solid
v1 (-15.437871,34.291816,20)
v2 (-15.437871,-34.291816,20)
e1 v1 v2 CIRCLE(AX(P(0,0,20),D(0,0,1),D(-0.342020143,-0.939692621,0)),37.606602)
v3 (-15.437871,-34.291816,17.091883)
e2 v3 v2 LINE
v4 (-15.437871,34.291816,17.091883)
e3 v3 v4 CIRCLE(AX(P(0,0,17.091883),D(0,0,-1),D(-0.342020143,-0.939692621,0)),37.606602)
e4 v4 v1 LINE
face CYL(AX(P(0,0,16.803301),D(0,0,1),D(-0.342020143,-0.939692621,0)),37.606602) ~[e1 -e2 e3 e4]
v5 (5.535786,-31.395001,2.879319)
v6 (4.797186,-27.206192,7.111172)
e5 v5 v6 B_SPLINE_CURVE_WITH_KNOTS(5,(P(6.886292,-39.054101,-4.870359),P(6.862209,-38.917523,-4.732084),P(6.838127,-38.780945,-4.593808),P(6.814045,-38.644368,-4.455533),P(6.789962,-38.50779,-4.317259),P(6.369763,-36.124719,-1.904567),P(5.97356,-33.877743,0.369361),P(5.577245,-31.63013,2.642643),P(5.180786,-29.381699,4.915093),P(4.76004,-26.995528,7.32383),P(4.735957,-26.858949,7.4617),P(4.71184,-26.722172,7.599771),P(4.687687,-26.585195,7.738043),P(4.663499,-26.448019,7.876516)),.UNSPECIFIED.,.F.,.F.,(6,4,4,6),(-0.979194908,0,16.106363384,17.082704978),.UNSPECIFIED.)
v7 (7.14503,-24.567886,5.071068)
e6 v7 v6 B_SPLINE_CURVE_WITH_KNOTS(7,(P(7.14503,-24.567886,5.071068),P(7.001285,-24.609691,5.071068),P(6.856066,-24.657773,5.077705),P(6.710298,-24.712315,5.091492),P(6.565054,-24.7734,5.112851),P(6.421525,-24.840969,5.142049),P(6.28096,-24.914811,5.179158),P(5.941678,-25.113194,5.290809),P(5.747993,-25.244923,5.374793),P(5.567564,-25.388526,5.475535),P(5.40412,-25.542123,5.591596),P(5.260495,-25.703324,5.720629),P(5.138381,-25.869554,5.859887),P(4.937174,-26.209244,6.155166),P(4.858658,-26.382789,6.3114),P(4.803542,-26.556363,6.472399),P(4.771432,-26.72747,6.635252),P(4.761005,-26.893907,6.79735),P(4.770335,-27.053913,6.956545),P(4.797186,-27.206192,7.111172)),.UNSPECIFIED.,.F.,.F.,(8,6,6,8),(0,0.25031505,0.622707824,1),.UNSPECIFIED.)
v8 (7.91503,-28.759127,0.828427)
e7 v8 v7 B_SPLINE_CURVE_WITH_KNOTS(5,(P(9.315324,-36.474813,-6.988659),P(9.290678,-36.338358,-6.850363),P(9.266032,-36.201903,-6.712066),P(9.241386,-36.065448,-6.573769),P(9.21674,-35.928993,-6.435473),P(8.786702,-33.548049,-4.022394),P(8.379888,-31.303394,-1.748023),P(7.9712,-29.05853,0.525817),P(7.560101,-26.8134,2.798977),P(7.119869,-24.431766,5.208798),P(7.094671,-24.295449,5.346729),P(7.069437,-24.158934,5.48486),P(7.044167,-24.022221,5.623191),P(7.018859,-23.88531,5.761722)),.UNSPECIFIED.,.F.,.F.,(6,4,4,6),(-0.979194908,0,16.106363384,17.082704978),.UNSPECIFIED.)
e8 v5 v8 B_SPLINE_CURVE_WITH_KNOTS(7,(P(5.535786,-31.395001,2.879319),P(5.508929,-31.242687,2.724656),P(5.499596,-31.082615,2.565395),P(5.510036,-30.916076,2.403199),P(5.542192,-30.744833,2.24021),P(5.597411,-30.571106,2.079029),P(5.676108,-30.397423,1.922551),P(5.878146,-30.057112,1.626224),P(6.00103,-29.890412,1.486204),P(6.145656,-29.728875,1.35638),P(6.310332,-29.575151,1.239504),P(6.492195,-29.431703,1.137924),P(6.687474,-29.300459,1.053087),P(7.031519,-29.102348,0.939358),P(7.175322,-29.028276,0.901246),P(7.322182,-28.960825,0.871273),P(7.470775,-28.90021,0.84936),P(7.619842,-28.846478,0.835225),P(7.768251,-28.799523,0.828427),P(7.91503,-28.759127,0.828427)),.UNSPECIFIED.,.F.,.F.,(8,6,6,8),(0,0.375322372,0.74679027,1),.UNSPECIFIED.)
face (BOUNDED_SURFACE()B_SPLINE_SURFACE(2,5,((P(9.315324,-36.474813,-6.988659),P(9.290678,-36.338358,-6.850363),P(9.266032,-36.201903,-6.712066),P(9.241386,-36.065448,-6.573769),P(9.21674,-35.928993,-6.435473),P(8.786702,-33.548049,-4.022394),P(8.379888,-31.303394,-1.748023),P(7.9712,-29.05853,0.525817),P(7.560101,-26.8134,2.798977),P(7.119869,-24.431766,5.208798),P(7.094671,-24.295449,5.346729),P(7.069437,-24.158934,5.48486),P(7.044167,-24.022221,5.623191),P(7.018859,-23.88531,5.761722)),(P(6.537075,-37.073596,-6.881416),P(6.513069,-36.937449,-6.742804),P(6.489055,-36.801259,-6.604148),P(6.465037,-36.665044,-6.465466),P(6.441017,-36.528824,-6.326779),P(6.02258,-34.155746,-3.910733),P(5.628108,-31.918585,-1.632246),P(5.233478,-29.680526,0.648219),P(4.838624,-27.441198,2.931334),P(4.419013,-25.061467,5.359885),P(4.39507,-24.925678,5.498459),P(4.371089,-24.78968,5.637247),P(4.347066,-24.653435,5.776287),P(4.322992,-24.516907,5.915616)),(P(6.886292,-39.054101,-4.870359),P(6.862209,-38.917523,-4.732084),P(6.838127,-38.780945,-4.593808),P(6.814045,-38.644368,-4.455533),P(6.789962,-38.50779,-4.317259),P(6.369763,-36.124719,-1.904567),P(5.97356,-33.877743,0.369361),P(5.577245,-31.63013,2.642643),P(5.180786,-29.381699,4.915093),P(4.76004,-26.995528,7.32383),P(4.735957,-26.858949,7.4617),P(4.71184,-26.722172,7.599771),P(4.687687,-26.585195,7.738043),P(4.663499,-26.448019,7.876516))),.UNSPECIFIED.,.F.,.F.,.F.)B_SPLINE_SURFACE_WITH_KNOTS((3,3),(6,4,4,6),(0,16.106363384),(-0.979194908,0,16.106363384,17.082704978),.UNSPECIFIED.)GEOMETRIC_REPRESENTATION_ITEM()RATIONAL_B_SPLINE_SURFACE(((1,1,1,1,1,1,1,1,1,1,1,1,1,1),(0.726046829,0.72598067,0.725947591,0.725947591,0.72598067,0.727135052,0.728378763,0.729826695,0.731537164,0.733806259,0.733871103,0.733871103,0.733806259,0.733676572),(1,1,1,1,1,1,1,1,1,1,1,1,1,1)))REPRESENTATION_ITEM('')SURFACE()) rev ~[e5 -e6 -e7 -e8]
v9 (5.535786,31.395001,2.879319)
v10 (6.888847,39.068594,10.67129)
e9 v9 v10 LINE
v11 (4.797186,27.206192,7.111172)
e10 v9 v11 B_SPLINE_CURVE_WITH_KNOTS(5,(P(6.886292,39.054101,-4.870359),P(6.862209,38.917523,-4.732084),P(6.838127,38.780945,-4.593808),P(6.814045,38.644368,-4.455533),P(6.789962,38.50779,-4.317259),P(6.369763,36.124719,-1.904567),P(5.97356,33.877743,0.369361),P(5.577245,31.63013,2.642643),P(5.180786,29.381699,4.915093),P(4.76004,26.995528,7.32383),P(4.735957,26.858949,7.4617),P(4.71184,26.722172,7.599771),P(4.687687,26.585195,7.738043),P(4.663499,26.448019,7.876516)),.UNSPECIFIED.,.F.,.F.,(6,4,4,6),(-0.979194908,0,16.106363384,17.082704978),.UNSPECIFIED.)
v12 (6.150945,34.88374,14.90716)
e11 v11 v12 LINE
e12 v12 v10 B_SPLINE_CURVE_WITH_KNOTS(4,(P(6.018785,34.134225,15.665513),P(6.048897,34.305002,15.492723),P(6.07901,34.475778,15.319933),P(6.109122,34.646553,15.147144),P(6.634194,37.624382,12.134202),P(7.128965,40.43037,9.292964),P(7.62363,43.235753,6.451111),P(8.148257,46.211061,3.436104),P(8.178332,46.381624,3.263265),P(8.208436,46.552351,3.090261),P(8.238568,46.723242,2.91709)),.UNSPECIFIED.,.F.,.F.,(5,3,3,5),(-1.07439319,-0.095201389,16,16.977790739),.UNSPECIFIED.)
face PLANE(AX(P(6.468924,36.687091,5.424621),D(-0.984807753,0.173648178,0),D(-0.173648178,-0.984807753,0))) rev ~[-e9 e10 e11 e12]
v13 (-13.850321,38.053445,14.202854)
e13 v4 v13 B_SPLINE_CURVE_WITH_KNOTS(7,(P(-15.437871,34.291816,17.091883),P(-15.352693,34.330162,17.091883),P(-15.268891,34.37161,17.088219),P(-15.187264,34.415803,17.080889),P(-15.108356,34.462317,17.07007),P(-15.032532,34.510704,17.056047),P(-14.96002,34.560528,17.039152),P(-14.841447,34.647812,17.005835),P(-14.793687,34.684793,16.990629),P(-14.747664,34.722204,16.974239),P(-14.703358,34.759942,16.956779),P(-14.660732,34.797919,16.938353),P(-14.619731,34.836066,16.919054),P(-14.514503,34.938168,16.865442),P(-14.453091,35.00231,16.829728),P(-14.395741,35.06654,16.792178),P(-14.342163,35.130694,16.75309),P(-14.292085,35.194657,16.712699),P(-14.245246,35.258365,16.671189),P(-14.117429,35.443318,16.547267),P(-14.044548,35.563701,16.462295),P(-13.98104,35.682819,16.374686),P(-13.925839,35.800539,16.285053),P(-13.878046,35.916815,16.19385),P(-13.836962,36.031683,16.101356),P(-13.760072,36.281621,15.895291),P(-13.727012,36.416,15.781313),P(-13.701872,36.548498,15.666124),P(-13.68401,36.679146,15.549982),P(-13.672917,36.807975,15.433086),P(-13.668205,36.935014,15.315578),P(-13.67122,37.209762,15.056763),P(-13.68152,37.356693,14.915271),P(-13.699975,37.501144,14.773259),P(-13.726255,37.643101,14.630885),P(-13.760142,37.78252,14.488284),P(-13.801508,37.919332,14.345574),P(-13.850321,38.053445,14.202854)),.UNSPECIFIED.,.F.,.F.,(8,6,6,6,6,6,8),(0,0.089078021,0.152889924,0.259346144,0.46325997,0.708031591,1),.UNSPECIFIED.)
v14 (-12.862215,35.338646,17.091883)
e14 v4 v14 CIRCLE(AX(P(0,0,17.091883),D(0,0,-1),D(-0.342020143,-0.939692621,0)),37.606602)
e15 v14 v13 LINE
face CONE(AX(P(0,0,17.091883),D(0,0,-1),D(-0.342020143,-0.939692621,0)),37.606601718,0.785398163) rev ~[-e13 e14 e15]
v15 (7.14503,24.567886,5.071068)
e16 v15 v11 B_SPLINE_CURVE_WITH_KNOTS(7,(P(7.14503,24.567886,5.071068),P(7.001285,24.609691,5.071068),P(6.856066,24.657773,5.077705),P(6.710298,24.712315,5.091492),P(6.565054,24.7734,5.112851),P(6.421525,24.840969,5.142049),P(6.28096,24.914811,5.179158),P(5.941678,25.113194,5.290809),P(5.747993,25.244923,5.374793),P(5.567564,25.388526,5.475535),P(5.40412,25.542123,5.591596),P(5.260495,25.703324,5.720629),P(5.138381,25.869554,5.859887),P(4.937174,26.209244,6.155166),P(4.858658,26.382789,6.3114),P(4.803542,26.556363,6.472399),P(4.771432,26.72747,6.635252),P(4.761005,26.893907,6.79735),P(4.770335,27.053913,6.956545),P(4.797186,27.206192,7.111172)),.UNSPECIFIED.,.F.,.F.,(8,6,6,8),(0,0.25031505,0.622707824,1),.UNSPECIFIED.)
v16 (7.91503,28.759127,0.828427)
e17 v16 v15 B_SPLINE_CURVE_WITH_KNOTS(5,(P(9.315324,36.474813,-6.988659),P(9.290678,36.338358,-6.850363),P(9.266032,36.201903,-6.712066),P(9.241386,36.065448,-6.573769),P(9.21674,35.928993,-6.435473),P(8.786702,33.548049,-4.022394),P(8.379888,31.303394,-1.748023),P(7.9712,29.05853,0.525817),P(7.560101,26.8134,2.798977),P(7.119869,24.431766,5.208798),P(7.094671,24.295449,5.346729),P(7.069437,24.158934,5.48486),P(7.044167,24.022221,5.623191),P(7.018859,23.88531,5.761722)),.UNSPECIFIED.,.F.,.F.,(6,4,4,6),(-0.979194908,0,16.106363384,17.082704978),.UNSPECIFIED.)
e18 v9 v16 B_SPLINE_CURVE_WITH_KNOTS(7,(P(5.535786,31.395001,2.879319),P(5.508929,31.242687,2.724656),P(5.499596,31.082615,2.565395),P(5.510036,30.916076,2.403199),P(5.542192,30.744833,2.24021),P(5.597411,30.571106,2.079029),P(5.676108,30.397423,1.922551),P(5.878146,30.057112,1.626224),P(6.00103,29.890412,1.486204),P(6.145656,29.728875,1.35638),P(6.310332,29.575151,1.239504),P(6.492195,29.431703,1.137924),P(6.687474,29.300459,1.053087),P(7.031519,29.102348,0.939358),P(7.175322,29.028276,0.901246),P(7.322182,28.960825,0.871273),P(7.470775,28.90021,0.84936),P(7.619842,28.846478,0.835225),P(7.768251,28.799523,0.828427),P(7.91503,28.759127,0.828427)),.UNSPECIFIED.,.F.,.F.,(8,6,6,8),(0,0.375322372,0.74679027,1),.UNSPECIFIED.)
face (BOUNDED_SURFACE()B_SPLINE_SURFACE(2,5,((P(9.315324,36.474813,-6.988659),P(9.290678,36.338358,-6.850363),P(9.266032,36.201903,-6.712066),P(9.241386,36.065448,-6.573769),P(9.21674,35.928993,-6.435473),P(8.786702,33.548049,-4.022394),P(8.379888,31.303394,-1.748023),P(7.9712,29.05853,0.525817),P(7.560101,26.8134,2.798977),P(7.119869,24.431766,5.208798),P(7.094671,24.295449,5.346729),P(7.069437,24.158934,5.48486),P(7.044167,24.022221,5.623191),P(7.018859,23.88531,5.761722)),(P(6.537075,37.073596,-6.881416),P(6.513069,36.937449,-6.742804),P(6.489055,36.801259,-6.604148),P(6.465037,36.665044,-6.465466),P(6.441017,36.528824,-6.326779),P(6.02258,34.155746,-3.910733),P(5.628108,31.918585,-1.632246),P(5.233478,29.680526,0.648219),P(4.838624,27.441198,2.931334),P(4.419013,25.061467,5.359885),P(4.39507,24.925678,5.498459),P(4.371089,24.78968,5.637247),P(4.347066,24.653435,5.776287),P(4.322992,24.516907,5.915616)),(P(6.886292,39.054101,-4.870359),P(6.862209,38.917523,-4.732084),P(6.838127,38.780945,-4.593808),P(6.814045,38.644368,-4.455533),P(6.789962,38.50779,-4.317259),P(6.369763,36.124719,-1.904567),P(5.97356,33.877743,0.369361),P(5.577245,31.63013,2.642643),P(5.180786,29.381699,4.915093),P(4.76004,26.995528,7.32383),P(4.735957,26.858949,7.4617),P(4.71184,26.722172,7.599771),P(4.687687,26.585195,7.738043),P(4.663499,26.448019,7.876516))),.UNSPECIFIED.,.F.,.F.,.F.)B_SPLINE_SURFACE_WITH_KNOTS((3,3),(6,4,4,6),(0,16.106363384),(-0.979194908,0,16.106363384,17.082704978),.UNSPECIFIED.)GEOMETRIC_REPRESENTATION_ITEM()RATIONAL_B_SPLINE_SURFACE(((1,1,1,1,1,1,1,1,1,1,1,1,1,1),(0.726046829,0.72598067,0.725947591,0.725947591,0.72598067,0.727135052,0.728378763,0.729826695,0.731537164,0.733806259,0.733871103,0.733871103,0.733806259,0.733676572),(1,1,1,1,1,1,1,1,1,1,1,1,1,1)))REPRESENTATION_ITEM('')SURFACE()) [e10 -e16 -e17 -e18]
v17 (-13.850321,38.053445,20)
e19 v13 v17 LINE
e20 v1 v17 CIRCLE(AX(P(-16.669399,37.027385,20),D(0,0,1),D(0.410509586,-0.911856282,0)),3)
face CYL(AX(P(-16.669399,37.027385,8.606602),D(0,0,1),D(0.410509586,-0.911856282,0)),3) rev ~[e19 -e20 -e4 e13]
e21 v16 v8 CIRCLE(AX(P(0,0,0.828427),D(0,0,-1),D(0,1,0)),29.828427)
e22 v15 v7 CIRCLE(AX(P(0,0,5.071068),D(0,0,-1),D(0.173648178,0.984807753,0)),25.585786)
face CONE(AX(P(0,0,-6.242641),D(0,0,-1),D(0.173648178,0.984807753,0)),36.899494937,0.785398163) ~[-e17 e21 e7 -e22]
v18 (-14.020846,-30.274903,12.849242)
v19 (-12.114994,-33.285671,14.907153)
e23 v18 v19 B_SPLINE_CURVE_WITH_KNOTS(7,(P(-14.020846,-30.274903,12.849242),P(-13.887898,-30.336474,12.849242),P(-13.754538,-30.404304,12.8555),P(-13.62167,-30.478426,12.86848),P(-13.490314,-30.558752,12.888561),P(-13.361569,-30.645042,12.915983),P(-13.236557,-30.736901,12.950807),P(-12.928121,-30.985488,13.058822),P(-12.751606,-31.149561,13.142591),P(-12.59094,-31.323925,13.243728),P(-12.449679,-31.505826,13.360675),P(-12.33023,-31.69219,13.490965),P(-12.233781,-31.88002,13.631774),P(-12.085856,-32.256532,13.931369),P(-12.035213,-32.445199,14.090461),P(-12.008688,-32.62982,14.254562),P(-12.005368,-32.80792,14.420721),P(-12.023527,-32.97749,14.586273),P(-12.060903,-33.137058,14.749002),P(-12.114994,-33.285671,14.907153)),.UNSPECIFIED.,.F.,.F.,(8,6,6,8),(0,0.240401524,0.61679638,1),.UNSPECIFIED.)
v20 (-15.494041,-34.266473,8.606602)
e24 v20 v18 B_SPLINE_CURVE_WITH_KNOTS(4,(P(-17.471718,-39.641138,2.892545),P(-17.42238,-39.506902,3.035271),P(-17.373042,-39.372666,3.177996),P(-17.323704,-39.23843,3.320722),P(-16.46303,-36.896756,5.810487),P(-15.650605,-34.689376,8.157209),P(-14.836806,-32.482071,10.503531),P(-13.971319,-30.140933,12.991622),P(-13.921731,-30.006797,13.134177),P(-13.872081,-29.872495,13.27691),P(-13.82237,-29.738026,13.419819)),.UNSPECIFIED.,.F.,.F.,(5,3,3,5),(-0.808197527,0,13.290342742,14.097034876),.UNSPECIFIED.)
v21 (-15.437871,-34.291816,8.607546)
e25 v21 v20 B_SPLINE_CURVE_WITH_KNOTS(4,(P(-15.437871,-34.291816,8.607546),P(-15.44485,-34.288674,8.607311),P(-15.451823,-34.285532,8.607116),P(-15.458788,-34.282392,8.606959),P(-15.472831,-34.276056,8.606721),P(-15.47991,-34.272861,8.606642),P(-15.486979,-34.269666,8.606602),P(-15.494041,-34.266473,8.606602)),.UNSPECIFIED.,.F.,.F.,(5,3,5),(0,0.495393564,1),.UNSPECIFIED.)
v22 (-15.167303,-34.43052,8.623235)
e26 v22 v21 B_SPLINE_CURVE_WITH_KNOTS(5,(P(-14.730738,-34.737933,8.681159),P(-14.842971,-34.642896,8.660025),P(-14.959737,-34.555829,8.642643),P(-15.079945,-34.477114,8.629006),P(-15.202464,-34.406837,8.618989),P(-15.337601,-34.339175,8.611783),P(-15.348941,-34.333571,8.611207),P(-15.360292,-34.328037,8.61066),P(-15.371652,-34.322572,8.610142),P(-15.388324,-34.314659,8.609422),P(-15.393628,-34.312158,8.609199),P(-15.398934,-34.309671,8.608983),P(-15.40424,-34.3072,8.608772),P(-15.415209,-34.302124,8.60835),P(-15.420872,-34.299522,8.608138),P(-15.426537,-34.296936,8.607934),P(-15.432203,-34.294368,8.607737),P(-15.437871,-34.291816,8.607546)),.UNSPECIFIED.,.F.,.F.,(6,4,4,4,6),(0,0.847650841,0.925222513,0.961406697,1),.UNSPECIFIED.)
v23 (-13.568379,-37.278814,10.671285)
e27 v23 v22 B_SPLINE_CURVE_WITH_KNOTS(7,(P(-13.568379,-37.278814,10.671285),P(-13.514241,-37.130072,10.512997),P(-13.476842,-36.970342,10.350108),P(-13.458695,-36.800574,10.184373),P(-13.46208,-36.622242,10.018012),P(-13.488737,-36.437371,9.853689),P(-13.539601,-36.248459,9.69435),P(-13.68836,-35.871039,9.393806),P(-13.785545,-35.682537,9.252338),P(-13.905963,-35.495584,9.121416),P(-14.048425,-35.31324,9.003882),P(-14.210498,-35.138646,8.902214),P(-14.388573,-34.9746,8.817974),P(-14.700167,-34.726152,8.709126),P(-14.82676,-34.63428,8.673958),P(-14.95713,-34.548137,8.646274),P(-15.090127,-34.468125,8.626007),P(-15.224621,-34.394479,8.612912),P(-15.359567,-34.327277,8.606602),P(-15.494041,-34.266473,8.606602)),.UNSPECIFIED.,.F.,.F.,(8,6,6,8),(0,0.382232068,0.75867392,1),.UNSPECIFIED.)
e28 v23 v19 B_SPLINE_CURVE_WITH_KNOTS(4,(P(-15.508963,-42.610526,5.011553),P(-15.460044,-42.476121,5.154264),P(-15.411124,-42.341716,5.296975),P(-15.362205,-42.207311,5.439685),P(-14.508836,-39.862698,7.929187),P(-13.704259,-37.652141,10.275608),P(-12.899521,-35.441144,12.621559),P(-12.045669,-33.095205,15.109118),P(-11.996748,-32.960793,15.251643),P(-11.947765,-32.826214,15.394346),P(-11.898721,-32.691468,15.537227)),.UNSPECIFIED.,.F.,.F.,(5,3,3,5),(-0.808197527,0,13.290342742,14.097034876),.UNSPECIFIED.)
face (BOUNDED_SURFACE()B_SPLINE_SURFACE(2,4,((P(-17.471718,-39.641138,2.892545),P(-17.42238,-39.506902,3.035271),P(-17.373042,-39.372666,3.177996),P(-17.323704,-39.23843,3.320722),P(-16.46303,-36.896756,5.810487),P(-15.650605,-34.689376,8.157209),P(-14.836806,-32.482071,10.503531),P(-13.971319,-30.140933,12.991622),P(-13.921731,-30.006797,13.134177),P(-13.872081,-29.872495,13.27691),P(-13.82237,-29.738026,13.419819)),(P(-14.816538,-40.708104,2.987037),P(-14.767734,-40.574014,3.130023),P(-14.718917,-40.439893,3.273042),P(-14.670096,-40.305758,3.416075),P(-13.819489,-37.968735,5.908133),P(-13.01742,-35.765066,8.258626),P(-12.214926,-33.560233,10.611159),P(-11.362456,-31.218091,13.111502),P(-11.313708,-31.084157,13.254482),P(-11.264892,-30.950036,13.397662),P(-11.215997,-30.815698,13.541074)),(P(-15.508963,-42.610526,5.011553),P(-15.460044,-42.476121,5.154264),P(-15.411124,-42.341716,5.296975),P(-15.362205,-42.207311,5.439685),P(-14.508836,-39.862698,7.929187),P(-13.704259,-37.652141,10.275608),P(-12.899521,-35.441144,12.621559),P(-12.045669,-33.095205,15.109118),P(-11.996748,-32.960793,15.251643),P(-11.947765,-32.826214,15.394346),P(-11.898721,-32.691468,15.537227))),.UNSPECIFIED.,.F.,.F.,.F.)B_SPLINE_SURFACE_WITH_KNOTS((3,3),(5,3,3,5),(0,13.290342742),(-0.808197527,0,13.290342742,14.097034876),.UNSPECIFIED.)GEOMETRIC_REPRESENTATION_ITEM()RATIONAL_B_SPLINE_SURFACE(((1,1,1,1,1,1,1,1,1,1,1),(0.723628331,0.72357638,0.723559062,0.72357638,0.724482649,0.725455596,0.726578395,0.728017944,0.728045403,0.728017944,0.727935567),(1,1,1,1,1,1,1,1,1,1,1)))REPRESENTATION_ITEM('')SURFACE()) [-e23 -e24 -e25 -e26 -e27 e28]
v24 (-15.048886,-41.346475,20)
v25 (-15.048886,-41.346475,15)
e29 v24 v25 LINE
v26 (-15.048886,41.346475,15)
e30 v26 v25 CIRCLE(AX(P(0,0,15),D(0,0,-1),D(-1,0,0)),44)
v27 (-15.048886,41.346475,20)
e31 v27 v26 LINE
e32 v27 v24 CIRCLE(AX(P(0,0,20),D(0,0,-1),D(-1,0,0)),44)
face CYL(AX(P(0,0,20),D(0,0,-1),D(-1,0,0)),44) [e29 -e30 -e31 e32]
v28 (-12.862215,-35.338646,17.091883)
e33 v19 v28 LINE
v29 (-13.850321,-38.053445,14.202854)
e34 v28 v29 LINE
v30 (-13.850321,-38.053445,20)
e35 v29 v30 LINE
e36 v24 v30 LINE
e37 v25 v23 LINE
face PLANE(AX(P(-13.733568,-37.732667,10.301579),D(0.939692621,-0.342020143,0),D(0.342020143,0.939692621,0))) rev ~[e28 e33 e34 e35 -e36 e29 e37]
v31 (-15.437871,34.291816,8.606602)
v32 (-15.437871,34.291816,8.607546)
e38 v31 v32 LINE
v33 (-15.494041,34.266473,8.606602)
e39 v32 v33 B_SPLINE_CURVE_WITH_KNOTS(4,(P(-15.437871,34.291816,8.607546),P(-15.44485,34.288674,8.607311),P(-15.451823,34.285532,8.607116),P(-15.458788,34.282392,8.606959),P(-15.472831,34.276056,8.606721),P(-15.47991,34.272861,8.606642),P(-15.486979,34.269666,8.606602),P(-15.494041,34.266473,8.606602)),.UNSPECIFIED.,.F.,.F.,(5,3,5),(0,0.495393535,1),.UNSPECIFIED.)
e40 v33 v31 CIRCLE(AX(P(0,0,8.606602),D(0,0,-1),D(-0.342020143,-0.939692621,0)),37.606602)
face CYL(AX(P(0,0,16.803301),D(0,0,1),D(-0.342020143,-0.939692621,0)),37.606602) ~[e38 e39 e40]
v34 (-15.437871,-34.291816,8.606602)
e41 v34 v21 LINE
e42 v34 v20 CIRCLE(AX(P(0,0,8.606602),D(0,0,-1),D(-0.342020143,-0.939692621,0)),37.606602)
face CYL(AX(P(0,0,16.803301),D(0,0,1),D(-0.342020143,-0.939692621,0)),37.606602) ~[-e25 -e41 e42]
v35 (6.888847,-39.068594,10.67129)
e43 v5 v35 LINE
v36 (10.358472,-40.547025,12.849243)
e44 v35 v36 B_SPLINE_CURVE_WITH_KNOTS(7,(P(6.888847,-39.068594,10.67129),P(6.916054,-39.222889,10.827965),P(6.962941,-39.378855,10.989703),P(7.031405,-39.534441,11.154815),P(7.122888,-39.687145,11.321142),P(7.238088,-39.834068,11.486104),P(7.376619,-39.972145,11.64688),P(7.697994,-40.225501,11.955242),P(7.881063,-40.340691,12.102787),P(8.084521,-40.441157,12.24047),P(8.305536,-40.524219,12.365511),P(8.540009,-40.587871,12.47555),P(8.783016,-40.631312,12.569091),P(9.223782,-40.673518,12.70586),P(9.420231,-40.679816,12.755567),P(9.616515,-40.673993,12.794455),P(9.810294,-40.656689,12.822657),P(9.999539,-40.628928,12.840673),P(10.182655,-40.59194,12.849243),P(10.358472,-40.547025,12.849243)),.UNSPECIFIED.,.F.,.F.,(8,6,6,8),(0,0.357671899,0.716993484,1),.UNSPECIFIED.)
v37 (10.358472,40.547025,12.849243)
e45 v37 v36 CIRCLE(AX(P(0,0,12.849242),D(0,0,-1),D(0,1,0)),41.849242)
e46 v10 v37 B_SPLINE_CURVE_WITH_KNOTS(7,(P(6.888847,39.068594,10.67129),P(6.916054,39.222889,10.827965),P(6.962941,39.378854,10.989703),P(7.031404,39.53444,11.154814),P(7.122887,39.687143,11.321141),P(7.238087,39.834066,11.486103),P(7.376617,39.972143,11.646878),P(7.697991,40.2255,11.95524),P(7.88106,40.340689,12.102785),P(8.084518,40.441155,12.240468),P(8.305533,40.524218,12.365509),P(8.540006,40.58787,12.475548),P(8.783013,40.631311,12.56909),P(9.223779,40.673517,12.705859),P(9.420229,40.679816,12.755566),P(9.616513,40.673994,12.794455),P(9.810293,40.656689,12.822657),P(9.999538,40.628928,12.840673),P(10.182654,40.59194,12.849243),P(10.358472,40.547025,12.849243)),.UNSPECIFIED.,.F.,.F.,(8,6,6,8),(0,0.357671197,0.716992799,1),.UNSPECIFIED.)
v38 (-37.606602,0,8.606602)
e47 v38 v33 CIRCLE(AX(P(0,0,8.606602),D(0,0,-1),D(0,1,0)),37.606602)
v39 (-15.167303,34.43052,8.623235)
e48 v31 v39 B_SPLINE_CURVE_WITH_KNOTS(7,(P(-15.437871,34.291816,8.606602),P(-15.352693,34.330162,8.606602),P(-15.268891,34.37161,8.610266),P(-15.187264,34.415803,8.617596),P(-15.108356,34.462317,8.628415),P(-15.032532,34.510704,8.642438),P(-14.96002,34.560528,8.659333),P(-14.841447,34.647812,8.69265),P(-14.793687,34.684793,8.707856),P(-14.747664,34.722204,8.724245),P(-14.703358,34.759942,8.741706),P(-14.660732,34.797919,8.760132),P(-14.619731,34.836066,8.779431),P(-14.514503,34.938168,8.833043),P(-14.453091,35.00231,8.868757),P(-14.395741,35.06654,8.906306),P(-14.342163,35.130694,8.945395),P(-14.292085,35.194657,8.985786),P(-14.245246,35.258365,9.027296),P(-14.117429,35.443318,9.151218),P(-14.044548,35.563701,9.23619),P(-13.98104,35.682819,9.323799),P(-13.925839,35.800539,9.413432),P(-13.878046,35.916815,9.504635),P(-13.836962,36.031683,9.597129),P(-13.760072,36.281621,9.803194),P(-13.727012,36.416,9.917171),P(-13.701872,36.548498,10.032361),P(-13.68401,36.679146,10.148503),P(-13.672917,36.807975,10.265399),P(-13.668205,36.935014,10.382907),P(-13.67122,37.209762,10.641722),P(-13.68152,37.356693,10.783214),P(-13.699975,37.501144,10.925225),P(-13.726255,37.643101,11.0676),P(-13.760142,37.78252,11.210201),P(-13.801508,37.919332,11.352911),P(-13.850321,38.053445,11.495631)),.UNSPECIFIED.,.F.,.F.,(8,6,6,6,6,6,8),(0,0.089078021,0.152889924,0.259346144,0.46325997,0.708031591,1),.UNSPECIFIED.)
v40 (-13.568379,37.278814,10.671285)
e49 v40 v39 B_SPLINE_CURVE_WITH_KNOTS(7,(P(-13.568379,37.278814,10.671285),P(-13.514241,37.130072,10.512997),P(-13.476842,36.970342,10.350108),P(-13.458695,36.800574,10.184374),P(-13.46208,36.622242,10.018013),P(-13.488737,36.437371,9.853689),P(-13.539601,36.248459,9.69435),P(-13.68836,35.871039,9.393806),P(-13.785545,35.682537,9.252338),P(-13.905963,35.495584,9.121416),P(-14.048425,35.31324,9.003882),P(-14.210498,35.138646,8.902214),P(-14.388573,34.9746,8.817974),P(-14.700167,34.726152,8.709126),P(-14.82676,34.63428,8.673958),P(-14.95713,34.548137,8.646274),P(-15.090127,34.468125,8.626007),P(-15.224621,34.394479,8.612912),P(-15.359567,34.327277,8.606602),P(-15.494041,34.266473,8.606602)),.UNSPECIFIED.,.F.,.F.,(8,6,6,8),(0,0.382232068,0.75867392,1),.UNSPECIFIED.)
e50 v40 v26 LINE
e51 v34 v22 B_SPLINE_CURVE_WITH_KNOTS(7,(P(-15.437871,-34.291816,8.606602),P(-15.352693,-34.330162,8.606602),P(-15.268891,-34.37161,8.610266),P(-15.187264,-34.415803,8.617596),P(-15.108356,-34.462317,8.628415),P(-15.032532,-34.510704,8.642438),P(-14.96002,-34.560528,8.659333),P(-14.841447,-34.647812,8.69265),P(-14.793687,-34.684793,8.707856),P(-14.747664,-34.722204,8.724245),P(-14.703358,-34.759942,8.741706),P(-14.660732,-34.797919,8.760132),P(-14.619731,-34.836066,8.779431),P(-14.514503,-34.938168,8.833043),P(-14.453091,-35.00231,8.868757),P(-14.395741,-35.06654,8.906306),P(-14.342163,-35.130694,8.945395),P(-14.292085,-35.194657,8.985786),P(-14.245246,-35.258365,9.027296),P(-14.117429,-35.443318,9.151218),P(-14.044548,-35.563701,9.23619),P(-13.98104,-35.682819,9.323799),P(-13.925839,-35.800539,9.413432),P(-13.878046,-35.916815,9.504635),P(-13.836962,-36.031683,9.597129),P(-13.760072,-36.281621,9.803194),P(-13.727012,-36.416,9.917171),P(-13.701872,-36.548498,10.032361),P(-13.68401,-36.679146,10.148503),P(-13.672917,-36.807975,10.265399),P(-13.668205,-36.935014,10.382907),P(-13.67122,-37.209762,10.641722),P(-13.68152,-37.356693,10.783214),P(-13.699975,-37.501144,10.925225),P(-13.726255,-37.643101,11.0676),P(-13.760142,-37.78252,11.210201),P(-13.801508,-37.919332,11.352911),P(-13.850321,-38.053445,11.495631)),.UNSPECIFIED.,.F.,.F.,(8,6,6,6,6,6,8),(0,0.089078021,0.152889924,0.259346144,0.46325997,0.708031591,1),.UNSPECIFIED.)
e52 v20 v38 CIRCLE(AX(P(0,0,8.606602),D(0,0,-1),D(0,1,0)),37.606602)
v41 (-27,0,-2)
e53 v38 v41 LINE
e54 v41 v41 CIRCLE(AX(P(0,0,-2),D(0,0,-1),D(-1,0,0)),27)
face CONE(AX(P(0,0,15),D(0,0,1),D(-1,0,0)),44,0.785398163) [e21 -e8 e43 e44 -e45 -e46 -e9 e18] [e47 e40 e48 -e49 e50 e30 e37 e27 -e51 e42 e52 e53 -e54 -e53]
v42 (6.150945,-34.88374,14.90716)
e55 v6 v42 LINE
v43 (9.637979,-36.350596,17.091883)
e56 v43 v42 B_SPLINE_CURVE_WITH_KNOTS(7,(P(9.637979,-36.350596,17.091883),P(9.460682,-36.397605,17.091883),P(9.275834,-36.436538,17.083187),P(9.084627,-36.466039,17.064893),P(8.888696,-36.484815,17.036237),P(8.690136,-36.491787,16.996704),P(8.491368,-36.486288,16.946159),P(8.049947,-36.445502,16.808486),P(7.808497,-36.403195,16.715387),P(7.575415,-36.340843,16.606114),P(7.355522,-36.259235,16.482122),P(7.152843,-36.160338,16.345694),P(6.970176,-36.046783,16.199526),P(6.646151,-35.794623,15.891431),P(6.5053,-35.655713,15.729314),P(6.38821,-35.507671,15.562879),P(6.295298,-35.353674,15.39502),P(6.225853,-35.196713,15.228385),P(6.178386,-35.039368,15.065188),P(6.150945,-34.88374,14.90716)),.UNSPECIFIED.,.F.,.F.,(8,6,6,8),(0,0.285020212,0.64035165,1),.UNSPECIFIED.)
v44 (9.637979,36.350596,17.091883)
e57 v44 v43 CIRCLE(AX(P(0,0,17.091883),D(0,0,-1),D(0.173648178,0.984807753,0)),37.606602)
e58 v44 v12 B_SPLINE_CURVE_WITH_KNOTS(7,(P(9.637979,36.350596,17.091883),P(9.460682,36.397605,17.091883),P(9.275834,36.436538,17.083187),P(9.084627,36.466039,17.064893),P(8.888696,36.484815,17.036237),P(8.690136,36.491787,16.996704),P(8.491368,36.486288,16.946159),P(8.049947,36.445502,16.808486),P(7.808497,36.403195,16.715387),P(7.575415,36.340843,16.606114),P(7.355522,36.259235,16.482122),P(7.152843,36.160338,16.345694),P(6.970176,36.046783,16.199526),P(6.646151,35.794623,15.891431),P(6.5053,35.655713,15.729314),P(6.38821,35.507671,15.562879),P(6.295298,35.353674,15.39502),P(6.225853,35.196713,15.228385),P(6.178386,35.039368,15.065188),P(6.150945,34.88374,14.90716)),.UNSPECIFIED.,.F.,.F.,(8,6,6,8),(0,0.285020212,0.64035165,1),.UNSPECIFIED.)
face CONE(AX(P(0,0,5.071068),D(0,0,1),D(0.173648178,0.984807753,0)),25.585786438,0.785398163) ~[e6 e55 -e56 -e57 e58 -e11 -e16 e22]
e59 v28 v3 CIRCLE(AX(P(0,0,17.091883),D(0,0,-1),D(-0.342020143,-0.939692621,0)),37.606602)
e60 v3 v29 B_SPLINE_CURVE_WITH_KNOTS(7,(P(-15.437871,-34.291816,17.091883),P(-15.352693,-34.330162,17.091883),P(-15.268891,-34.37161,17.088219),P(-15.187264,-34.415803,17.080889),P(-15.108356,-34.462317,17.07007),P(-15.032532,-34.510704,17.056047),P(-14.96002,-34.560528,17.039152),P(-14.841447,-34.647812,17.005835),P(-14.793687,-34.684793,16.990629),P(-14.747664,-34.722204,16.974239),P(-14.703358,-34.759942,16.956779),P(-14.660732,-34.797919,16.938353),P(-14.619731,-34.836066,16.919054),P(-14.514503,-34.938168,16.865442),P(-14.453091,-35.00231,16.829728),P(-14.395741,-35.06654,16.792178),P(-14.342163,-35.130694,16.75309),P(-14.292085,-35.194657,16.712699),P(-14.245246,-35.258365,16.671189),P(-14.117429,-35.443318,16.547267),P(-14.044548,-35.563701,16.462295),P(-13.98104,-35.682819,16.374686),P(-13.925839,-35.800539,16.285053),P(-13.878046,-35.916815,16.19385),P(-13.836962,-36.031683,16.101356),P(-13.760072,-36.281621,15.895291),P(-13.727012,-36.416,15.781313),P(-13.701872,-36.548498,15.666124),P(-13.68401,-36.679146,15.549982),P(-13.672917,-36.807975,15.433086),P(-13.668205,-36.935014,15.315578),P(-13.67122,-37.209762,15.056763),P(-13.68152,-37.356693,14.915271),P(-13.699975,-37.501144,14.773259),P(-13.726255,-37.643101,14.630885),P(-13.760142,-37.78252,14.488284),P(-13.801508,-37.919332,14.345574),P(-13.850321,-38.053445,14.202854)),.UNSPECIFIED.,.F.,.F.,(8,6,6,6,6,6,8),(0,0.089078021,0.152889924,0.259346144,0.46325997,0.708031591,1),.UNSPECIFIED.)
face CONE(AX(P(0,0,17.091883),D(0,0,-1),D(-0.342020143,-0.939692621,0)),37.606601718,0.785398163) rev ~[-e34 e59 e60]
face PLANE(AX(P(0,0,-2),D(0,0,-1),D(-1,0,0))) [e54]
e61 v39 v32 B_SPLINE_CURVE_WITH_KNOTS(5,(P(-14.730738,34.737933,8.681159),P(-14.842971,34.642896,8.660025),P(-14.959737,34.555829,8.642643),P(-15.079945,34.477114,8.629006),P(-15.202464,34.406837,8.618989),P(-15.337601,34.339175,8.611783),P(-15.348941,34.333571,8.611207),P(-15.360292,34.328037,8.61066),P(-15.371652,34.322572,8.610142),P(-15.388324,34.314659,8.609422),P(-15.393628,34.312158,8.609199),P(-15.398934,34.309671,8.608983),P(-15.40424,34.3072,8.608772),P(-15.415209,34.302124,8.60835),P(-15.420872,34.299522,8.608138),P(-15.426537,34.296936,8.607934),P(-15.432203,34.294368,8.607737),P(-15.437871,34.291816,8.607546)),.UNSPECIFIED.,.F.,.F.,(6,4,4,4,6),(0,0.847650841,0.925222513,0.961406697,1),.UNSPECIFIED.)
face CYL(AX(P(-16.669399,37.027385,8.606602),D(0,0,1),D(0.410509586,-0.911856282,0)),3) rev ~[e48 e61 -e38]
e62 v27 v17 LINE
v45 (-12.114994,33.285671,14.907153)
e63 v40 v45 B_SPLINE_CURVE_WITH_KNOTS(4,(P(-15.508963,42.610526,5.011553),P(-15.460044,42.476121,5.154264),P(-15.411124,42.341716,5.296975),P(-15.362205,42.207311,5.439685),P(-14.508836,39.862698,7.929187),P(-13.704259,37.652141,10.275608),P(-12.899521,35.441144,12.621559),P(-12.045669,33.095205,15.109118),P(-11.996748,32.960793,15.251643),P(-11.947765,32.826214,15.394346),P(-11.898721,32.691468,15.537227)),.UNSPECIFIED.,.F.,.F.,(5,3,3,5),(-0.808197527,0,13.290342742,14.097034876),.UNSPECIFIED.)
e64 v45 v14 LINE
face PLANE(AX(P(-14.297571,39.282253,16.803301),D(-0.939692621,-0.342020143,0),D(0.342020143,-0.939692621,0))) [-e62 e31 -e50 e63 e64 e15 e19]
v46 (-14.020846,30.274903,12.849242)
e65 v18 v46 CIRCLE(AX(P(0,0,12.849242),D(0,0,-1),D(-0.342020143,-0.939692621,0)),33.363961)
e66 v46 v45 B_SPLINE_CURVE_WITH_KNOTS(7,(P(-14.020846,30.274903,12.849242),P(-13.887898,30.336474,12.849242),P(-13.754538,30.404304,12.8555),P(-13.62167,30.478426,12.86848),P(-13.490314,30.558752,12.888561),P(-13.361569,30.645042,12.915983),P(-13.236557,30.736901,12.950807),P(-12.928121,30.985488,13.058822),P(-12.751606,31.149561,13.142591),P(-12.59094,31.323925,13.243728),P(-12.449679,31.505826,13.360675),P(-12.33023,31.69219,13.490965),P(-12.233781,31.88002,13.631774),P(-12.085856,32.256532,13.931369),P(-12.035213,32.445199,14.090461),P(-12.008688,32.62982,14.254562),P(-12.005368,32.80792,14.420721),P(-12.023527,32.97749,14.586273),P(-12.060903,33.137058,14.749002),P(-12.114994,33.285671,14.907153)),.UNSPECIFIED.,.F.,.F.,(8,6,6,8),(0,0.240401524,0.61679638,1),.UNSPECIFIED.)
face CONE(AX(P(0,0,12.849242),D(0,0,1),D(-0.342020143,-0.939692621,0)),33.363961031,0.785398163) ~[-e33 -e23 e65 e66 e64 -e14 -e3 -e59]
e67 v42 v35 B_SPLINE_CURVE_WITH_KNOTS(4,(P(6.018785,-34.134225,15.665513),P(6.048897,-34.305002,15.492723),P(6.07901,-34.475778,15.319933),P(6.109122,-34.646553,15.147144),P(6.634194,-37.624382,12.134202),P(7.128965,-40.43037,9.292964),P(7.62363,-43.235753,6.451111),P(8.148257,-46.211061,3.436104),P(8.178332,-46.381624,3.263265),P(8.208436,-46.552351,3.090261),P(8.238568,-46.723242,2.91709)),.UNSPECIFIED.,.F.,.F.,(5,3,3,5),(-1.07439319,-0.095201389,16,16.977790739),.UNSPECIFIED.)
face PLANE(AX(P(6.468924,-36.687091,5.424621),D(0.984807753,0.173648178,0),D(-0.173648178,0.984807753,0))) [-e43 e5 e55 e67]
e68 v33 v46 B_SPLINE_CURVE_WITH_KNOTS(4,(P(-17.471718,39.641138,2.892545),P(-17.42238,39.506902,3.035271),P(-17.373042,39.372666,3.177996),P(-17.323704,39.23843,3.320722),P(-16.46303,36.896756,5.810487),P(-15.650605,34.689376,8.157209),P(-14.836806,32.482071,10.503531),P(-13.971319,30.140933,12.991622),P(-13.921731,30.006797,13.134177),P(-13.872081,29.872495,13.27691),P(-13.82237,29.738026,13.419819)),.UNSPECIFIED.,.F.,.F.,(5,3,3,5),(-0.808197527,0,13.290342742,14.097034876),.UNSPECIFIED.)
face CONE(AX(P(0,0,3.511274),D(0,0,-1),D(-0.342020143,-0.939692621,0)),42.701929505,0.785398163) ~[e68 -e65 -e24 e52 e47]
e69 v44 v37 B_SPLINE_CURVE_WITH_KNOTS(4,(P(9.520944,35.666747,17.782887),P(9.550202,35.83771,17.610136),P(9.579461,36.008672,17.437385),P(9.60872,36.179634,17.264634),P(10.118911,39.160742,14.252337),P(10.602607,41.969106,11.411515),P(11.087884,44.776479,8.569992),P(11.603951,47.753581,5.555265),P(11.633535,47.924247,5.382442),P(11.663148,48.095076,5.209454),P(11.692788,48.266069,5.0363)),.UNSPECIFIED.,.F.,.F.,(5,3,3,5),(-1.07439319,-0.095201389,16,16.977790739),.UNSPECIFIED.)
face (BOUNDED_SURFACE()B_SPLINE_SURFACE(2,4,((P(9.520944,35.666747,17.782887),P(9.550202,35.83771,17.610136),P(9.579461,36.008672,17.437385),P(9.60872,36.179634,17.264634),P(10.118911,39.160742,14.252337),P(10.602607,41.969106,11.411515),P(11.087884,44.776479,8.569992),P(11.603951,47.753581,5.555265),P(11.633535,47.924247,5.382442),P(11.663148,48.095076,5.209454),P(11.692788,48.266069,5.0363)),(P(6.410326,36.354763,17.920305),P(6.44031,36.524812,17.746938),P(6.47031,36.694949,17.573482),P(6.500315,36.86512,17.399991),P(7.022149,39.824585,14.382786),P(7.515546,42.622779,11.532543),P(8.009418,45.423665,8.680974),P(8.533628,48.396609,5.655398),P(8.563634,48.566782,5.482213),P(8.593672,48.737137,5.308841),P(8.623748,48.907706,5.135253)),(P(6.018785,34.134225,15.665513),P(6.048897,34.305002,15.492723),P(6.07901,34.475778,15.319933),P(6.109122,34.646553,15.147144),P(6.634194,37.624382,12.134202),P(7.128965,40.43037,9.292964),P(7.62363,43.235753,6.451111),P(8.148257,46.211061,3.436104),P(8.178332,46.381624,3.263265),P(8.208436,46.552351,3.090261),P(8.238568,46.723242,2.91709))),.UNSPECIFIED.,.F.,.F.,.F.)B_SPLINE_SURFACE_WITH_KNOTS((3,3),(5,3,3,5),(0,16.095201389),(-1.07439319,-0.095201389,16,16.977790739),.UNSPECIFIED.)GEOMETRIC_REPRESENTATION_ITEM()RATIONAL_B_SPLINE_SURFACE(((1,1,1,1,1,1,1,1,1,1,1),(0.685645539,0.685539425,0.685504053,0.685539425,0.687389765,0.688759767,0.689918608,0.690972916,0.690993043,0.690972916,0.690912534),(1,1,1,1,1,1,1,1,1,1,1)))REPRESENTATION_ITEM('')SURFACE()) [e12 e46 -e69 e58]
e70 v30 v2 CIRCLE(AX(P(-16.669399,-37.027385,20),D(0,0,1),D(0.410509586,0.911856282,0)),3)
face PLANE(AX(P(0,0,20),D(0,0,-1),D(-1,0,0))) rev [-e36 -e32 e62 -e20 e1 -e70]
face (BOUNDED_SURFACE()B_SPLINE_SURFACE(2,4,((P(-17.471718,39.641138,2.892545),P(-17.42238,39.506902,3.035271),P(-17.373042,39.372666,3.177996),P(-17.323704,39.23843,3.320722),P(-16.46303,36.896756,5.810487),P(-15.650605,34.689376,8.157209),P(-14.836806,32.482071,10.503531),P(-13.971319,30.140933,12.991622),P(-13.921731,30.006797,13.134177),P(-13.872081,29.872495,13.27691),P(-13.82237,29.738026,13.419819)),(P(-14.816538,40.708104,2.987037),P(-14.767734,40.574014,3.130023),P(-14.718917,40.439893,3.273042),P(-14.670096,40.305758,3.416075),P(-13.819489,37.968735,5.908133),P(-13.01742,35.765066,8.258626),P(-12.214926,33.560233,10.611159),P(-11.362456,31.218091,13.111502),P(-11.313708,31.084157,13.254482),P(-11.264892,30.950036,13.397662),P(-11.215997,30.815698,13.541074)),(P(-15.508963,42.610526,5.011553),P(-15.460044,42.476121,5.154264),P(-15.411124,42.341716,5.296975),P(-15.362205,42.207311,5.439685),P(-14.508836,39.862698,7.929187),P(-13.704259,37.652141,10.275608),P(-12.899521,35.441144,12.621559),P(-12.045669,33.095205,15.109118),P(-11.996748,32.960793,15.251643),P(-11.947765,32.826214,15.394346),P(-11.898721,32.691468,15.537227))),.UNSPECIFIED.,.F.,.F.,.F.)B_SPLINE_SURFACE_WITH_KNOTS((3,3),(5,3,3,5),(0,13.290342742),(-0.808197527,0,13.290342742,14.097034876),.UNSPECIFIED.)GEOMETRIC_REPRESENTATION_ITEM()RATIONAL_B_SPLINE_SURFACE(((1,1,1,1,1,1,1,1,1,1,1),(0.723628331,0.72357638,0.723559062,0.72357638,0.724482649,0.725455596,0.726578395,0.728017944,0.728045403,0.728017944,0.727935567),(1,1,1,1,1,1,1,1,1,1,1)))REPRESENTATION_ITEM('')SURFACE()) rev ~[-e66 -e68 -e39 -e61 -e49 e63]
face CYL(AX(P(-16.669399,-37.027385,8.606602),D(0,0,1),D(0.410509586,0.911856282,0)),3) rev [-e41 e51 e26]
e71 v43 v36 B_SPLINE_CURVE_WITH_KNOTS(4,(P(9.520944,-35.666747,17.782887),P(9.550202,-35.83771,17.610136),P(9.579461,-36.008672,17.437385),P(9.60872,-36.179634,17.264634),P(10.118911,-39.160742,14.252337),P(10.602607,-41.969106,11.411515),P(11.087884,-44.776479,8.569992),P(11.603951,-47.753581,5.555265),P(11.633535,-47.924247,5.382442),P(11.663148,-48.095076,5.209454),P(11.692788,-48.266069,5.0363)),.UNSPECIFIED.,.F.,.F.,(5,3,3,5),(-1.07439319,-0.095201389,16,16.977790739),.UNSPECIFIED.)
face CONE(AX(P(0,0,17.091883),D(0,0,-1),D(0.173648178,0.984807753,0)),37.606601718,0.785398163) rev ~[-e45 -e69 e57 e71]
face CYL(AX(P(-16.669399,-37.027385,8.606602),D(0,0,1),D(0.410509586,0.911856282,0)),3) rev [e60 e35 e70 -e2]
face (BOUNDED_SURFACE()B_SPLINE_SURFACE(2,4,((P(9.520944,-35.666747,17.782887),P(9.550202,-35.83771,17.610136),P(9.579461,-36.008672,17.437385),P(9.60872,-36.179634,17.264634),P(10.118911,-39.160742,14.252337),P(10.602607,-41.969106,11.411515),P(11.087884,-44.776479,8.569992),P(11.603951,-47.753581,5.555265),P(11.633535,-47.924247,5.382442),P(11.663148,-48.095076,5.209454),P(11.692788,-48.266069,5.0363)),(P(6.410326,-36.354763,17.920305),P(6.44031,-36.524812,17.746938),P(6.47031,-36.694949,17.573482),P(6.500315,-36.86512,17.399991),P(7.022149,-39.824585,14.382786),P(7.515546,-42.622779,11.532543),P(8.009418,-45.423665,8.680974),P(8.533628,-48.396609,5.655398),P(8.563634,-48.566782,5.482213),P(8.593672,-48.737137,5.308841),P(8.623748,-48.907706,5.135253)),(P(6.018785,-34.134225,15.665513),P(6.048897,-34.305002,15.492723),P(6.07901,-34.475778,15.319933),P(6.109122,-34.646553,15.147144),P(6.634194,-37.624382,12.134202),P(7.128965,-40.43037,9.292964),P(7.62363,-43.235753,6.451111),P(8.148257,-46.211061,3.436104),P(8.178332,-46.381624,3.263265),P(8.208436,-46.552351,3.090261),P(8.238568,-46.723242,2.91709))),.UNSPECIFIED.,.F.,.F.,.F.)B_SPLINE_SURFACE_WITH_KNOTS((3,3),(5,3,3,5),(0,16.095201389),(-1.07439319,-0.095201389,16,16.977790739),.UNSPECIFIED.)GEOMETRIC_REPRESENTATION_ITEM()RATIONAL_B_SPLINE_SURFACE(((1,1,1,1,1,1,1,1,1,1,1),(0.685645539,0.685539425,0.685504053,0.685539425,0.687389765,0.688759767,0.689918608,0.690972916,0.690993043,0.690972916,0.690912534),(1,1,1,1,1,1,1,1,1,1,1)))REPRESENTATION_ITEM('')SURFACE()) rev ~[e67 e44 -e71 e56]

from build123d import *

# Parameters (mm, degrees)
F3_W           = 8.3933982822
F3_H           = 16.3933982822
F4_ANGLE_BACK  = 70
F4_ANGLE       = 140
F6_ANGLE_START = 100
F6_ANGLE       = 160
F7_ANGLE_BACK  = 70
F7_ANGLE       = 140
F8_R           = 3
F8_2_R         = 3
F9_R           = 3


with BuildPart() as f1:
    # F0 (on Front) → F1 (revolve)
    with BuildSketch(Plane.XZ):
        Polygon((-44, 15), (-27, -2), (0, -2), (0, 20), (-44, 20), align=None)
    revolve(axis=Axis((0, 0, 9.4880101401), (0, 0, -1)))


with BuildPart() as f4:
    # F3 (on Front) → F4 (revolve)
    with BuildSketch(Plane.XZ, mode=Mode.PRIVATE) as f4_sk:
        with Locations((-41.8033008589, 16.8033008589)):
            Rectangle(F3_W, F3_H)
    revolve(f4_sk.sketch.rotate(Axis((0, 0, 9.4880101401), (0, 0, -1)), -F4_ANGLE_BACK), axis=Axis((0, 0, 9.4880101401), (0, 0, -1)), revolution_arc=F4_ANGLE)

    # F8#2
    f8_2_edges = [f4.edges().sort_by_distance(p)[0] for p in [
        (-12.862215, 35.338646, 16.803301),
        (-12.862215, -35.338646, 16.803301),
    ]]
    fillet(f8_2_edges, radius=F8_2_R)


with BuildPart() as f6:
    # F5 (on Front) → F6 (revolve)
    with BuildSketch(Plane.XZ, mode=Mode.PRIVATE) as f6_sk:
        Polygon((-36.8994949366, -6.2426406871), (-25.5857864376, 5.0710678119), (-37.6066017178, 17.091883092), (-48.9203102168, 5.7781745931), align=None)
    revolve(f6_sk.sketch.rotate(Axis((0, 0, 9), (0, 0, -1)), F6_ANGLE_START), axis=Axis((0, 0, 9), (0, 0, -1)), revolution_arc=F6_ANGLE)

    # F9
    f9_edges = [f6.edges().sort_by_distance(p)[0] for p in [
        (5.425228, 30.767995, -0.585786),
        (7.51262, 42.606187, 11.435029),
        (7.51262, -42.606187, 11.435029),
        (5.425228, -30.767995, -0.585786),
    ]]
    fillet(f9_edges, radius=F9_R)


with BuildPart() as f7:
    # F2 (on Front) → F7 (revolve)
    with BuildSketch(Plane.XZ, mode=Mode.PRIVATE) as f7_sk:
        Polygon((-42.7019295049, 3.5112739307), (-33.3639610307, 12.8492424049), (-37.6066017178, 17.091883092), (-46.944570192, 7.7539146178), align=None)
    revolve(f7_sk.sketch.rotate(Axis((0, 0, 9), (0, 0, -1)), -F7_ANGLE_BACK), axis=Axis((0, 0, 9), (0, 0, -1)), revolution_arc=F7_ANGLE)

    # F8
    f8_edges = [f7.edges().sort_by_distance(p)[0] for p in [
        (-13.008033, -35.739278, 8.180258),
        (-13.008033, 35.739278, 8.180258),
    ]]
    fillet(f8_edges, radius=F8_R)


with BuildPart() as f1_1:
    add(f1.part)

    # F10: cut F7, F4, F6
    add(f7.part, mode=Mode.SUBTRACT)
    add(f4.part, mode=Mode.SUBTRACT)
    add(f6.part, mode=Mode.SUBTRACT)


solid = f1_1.part
